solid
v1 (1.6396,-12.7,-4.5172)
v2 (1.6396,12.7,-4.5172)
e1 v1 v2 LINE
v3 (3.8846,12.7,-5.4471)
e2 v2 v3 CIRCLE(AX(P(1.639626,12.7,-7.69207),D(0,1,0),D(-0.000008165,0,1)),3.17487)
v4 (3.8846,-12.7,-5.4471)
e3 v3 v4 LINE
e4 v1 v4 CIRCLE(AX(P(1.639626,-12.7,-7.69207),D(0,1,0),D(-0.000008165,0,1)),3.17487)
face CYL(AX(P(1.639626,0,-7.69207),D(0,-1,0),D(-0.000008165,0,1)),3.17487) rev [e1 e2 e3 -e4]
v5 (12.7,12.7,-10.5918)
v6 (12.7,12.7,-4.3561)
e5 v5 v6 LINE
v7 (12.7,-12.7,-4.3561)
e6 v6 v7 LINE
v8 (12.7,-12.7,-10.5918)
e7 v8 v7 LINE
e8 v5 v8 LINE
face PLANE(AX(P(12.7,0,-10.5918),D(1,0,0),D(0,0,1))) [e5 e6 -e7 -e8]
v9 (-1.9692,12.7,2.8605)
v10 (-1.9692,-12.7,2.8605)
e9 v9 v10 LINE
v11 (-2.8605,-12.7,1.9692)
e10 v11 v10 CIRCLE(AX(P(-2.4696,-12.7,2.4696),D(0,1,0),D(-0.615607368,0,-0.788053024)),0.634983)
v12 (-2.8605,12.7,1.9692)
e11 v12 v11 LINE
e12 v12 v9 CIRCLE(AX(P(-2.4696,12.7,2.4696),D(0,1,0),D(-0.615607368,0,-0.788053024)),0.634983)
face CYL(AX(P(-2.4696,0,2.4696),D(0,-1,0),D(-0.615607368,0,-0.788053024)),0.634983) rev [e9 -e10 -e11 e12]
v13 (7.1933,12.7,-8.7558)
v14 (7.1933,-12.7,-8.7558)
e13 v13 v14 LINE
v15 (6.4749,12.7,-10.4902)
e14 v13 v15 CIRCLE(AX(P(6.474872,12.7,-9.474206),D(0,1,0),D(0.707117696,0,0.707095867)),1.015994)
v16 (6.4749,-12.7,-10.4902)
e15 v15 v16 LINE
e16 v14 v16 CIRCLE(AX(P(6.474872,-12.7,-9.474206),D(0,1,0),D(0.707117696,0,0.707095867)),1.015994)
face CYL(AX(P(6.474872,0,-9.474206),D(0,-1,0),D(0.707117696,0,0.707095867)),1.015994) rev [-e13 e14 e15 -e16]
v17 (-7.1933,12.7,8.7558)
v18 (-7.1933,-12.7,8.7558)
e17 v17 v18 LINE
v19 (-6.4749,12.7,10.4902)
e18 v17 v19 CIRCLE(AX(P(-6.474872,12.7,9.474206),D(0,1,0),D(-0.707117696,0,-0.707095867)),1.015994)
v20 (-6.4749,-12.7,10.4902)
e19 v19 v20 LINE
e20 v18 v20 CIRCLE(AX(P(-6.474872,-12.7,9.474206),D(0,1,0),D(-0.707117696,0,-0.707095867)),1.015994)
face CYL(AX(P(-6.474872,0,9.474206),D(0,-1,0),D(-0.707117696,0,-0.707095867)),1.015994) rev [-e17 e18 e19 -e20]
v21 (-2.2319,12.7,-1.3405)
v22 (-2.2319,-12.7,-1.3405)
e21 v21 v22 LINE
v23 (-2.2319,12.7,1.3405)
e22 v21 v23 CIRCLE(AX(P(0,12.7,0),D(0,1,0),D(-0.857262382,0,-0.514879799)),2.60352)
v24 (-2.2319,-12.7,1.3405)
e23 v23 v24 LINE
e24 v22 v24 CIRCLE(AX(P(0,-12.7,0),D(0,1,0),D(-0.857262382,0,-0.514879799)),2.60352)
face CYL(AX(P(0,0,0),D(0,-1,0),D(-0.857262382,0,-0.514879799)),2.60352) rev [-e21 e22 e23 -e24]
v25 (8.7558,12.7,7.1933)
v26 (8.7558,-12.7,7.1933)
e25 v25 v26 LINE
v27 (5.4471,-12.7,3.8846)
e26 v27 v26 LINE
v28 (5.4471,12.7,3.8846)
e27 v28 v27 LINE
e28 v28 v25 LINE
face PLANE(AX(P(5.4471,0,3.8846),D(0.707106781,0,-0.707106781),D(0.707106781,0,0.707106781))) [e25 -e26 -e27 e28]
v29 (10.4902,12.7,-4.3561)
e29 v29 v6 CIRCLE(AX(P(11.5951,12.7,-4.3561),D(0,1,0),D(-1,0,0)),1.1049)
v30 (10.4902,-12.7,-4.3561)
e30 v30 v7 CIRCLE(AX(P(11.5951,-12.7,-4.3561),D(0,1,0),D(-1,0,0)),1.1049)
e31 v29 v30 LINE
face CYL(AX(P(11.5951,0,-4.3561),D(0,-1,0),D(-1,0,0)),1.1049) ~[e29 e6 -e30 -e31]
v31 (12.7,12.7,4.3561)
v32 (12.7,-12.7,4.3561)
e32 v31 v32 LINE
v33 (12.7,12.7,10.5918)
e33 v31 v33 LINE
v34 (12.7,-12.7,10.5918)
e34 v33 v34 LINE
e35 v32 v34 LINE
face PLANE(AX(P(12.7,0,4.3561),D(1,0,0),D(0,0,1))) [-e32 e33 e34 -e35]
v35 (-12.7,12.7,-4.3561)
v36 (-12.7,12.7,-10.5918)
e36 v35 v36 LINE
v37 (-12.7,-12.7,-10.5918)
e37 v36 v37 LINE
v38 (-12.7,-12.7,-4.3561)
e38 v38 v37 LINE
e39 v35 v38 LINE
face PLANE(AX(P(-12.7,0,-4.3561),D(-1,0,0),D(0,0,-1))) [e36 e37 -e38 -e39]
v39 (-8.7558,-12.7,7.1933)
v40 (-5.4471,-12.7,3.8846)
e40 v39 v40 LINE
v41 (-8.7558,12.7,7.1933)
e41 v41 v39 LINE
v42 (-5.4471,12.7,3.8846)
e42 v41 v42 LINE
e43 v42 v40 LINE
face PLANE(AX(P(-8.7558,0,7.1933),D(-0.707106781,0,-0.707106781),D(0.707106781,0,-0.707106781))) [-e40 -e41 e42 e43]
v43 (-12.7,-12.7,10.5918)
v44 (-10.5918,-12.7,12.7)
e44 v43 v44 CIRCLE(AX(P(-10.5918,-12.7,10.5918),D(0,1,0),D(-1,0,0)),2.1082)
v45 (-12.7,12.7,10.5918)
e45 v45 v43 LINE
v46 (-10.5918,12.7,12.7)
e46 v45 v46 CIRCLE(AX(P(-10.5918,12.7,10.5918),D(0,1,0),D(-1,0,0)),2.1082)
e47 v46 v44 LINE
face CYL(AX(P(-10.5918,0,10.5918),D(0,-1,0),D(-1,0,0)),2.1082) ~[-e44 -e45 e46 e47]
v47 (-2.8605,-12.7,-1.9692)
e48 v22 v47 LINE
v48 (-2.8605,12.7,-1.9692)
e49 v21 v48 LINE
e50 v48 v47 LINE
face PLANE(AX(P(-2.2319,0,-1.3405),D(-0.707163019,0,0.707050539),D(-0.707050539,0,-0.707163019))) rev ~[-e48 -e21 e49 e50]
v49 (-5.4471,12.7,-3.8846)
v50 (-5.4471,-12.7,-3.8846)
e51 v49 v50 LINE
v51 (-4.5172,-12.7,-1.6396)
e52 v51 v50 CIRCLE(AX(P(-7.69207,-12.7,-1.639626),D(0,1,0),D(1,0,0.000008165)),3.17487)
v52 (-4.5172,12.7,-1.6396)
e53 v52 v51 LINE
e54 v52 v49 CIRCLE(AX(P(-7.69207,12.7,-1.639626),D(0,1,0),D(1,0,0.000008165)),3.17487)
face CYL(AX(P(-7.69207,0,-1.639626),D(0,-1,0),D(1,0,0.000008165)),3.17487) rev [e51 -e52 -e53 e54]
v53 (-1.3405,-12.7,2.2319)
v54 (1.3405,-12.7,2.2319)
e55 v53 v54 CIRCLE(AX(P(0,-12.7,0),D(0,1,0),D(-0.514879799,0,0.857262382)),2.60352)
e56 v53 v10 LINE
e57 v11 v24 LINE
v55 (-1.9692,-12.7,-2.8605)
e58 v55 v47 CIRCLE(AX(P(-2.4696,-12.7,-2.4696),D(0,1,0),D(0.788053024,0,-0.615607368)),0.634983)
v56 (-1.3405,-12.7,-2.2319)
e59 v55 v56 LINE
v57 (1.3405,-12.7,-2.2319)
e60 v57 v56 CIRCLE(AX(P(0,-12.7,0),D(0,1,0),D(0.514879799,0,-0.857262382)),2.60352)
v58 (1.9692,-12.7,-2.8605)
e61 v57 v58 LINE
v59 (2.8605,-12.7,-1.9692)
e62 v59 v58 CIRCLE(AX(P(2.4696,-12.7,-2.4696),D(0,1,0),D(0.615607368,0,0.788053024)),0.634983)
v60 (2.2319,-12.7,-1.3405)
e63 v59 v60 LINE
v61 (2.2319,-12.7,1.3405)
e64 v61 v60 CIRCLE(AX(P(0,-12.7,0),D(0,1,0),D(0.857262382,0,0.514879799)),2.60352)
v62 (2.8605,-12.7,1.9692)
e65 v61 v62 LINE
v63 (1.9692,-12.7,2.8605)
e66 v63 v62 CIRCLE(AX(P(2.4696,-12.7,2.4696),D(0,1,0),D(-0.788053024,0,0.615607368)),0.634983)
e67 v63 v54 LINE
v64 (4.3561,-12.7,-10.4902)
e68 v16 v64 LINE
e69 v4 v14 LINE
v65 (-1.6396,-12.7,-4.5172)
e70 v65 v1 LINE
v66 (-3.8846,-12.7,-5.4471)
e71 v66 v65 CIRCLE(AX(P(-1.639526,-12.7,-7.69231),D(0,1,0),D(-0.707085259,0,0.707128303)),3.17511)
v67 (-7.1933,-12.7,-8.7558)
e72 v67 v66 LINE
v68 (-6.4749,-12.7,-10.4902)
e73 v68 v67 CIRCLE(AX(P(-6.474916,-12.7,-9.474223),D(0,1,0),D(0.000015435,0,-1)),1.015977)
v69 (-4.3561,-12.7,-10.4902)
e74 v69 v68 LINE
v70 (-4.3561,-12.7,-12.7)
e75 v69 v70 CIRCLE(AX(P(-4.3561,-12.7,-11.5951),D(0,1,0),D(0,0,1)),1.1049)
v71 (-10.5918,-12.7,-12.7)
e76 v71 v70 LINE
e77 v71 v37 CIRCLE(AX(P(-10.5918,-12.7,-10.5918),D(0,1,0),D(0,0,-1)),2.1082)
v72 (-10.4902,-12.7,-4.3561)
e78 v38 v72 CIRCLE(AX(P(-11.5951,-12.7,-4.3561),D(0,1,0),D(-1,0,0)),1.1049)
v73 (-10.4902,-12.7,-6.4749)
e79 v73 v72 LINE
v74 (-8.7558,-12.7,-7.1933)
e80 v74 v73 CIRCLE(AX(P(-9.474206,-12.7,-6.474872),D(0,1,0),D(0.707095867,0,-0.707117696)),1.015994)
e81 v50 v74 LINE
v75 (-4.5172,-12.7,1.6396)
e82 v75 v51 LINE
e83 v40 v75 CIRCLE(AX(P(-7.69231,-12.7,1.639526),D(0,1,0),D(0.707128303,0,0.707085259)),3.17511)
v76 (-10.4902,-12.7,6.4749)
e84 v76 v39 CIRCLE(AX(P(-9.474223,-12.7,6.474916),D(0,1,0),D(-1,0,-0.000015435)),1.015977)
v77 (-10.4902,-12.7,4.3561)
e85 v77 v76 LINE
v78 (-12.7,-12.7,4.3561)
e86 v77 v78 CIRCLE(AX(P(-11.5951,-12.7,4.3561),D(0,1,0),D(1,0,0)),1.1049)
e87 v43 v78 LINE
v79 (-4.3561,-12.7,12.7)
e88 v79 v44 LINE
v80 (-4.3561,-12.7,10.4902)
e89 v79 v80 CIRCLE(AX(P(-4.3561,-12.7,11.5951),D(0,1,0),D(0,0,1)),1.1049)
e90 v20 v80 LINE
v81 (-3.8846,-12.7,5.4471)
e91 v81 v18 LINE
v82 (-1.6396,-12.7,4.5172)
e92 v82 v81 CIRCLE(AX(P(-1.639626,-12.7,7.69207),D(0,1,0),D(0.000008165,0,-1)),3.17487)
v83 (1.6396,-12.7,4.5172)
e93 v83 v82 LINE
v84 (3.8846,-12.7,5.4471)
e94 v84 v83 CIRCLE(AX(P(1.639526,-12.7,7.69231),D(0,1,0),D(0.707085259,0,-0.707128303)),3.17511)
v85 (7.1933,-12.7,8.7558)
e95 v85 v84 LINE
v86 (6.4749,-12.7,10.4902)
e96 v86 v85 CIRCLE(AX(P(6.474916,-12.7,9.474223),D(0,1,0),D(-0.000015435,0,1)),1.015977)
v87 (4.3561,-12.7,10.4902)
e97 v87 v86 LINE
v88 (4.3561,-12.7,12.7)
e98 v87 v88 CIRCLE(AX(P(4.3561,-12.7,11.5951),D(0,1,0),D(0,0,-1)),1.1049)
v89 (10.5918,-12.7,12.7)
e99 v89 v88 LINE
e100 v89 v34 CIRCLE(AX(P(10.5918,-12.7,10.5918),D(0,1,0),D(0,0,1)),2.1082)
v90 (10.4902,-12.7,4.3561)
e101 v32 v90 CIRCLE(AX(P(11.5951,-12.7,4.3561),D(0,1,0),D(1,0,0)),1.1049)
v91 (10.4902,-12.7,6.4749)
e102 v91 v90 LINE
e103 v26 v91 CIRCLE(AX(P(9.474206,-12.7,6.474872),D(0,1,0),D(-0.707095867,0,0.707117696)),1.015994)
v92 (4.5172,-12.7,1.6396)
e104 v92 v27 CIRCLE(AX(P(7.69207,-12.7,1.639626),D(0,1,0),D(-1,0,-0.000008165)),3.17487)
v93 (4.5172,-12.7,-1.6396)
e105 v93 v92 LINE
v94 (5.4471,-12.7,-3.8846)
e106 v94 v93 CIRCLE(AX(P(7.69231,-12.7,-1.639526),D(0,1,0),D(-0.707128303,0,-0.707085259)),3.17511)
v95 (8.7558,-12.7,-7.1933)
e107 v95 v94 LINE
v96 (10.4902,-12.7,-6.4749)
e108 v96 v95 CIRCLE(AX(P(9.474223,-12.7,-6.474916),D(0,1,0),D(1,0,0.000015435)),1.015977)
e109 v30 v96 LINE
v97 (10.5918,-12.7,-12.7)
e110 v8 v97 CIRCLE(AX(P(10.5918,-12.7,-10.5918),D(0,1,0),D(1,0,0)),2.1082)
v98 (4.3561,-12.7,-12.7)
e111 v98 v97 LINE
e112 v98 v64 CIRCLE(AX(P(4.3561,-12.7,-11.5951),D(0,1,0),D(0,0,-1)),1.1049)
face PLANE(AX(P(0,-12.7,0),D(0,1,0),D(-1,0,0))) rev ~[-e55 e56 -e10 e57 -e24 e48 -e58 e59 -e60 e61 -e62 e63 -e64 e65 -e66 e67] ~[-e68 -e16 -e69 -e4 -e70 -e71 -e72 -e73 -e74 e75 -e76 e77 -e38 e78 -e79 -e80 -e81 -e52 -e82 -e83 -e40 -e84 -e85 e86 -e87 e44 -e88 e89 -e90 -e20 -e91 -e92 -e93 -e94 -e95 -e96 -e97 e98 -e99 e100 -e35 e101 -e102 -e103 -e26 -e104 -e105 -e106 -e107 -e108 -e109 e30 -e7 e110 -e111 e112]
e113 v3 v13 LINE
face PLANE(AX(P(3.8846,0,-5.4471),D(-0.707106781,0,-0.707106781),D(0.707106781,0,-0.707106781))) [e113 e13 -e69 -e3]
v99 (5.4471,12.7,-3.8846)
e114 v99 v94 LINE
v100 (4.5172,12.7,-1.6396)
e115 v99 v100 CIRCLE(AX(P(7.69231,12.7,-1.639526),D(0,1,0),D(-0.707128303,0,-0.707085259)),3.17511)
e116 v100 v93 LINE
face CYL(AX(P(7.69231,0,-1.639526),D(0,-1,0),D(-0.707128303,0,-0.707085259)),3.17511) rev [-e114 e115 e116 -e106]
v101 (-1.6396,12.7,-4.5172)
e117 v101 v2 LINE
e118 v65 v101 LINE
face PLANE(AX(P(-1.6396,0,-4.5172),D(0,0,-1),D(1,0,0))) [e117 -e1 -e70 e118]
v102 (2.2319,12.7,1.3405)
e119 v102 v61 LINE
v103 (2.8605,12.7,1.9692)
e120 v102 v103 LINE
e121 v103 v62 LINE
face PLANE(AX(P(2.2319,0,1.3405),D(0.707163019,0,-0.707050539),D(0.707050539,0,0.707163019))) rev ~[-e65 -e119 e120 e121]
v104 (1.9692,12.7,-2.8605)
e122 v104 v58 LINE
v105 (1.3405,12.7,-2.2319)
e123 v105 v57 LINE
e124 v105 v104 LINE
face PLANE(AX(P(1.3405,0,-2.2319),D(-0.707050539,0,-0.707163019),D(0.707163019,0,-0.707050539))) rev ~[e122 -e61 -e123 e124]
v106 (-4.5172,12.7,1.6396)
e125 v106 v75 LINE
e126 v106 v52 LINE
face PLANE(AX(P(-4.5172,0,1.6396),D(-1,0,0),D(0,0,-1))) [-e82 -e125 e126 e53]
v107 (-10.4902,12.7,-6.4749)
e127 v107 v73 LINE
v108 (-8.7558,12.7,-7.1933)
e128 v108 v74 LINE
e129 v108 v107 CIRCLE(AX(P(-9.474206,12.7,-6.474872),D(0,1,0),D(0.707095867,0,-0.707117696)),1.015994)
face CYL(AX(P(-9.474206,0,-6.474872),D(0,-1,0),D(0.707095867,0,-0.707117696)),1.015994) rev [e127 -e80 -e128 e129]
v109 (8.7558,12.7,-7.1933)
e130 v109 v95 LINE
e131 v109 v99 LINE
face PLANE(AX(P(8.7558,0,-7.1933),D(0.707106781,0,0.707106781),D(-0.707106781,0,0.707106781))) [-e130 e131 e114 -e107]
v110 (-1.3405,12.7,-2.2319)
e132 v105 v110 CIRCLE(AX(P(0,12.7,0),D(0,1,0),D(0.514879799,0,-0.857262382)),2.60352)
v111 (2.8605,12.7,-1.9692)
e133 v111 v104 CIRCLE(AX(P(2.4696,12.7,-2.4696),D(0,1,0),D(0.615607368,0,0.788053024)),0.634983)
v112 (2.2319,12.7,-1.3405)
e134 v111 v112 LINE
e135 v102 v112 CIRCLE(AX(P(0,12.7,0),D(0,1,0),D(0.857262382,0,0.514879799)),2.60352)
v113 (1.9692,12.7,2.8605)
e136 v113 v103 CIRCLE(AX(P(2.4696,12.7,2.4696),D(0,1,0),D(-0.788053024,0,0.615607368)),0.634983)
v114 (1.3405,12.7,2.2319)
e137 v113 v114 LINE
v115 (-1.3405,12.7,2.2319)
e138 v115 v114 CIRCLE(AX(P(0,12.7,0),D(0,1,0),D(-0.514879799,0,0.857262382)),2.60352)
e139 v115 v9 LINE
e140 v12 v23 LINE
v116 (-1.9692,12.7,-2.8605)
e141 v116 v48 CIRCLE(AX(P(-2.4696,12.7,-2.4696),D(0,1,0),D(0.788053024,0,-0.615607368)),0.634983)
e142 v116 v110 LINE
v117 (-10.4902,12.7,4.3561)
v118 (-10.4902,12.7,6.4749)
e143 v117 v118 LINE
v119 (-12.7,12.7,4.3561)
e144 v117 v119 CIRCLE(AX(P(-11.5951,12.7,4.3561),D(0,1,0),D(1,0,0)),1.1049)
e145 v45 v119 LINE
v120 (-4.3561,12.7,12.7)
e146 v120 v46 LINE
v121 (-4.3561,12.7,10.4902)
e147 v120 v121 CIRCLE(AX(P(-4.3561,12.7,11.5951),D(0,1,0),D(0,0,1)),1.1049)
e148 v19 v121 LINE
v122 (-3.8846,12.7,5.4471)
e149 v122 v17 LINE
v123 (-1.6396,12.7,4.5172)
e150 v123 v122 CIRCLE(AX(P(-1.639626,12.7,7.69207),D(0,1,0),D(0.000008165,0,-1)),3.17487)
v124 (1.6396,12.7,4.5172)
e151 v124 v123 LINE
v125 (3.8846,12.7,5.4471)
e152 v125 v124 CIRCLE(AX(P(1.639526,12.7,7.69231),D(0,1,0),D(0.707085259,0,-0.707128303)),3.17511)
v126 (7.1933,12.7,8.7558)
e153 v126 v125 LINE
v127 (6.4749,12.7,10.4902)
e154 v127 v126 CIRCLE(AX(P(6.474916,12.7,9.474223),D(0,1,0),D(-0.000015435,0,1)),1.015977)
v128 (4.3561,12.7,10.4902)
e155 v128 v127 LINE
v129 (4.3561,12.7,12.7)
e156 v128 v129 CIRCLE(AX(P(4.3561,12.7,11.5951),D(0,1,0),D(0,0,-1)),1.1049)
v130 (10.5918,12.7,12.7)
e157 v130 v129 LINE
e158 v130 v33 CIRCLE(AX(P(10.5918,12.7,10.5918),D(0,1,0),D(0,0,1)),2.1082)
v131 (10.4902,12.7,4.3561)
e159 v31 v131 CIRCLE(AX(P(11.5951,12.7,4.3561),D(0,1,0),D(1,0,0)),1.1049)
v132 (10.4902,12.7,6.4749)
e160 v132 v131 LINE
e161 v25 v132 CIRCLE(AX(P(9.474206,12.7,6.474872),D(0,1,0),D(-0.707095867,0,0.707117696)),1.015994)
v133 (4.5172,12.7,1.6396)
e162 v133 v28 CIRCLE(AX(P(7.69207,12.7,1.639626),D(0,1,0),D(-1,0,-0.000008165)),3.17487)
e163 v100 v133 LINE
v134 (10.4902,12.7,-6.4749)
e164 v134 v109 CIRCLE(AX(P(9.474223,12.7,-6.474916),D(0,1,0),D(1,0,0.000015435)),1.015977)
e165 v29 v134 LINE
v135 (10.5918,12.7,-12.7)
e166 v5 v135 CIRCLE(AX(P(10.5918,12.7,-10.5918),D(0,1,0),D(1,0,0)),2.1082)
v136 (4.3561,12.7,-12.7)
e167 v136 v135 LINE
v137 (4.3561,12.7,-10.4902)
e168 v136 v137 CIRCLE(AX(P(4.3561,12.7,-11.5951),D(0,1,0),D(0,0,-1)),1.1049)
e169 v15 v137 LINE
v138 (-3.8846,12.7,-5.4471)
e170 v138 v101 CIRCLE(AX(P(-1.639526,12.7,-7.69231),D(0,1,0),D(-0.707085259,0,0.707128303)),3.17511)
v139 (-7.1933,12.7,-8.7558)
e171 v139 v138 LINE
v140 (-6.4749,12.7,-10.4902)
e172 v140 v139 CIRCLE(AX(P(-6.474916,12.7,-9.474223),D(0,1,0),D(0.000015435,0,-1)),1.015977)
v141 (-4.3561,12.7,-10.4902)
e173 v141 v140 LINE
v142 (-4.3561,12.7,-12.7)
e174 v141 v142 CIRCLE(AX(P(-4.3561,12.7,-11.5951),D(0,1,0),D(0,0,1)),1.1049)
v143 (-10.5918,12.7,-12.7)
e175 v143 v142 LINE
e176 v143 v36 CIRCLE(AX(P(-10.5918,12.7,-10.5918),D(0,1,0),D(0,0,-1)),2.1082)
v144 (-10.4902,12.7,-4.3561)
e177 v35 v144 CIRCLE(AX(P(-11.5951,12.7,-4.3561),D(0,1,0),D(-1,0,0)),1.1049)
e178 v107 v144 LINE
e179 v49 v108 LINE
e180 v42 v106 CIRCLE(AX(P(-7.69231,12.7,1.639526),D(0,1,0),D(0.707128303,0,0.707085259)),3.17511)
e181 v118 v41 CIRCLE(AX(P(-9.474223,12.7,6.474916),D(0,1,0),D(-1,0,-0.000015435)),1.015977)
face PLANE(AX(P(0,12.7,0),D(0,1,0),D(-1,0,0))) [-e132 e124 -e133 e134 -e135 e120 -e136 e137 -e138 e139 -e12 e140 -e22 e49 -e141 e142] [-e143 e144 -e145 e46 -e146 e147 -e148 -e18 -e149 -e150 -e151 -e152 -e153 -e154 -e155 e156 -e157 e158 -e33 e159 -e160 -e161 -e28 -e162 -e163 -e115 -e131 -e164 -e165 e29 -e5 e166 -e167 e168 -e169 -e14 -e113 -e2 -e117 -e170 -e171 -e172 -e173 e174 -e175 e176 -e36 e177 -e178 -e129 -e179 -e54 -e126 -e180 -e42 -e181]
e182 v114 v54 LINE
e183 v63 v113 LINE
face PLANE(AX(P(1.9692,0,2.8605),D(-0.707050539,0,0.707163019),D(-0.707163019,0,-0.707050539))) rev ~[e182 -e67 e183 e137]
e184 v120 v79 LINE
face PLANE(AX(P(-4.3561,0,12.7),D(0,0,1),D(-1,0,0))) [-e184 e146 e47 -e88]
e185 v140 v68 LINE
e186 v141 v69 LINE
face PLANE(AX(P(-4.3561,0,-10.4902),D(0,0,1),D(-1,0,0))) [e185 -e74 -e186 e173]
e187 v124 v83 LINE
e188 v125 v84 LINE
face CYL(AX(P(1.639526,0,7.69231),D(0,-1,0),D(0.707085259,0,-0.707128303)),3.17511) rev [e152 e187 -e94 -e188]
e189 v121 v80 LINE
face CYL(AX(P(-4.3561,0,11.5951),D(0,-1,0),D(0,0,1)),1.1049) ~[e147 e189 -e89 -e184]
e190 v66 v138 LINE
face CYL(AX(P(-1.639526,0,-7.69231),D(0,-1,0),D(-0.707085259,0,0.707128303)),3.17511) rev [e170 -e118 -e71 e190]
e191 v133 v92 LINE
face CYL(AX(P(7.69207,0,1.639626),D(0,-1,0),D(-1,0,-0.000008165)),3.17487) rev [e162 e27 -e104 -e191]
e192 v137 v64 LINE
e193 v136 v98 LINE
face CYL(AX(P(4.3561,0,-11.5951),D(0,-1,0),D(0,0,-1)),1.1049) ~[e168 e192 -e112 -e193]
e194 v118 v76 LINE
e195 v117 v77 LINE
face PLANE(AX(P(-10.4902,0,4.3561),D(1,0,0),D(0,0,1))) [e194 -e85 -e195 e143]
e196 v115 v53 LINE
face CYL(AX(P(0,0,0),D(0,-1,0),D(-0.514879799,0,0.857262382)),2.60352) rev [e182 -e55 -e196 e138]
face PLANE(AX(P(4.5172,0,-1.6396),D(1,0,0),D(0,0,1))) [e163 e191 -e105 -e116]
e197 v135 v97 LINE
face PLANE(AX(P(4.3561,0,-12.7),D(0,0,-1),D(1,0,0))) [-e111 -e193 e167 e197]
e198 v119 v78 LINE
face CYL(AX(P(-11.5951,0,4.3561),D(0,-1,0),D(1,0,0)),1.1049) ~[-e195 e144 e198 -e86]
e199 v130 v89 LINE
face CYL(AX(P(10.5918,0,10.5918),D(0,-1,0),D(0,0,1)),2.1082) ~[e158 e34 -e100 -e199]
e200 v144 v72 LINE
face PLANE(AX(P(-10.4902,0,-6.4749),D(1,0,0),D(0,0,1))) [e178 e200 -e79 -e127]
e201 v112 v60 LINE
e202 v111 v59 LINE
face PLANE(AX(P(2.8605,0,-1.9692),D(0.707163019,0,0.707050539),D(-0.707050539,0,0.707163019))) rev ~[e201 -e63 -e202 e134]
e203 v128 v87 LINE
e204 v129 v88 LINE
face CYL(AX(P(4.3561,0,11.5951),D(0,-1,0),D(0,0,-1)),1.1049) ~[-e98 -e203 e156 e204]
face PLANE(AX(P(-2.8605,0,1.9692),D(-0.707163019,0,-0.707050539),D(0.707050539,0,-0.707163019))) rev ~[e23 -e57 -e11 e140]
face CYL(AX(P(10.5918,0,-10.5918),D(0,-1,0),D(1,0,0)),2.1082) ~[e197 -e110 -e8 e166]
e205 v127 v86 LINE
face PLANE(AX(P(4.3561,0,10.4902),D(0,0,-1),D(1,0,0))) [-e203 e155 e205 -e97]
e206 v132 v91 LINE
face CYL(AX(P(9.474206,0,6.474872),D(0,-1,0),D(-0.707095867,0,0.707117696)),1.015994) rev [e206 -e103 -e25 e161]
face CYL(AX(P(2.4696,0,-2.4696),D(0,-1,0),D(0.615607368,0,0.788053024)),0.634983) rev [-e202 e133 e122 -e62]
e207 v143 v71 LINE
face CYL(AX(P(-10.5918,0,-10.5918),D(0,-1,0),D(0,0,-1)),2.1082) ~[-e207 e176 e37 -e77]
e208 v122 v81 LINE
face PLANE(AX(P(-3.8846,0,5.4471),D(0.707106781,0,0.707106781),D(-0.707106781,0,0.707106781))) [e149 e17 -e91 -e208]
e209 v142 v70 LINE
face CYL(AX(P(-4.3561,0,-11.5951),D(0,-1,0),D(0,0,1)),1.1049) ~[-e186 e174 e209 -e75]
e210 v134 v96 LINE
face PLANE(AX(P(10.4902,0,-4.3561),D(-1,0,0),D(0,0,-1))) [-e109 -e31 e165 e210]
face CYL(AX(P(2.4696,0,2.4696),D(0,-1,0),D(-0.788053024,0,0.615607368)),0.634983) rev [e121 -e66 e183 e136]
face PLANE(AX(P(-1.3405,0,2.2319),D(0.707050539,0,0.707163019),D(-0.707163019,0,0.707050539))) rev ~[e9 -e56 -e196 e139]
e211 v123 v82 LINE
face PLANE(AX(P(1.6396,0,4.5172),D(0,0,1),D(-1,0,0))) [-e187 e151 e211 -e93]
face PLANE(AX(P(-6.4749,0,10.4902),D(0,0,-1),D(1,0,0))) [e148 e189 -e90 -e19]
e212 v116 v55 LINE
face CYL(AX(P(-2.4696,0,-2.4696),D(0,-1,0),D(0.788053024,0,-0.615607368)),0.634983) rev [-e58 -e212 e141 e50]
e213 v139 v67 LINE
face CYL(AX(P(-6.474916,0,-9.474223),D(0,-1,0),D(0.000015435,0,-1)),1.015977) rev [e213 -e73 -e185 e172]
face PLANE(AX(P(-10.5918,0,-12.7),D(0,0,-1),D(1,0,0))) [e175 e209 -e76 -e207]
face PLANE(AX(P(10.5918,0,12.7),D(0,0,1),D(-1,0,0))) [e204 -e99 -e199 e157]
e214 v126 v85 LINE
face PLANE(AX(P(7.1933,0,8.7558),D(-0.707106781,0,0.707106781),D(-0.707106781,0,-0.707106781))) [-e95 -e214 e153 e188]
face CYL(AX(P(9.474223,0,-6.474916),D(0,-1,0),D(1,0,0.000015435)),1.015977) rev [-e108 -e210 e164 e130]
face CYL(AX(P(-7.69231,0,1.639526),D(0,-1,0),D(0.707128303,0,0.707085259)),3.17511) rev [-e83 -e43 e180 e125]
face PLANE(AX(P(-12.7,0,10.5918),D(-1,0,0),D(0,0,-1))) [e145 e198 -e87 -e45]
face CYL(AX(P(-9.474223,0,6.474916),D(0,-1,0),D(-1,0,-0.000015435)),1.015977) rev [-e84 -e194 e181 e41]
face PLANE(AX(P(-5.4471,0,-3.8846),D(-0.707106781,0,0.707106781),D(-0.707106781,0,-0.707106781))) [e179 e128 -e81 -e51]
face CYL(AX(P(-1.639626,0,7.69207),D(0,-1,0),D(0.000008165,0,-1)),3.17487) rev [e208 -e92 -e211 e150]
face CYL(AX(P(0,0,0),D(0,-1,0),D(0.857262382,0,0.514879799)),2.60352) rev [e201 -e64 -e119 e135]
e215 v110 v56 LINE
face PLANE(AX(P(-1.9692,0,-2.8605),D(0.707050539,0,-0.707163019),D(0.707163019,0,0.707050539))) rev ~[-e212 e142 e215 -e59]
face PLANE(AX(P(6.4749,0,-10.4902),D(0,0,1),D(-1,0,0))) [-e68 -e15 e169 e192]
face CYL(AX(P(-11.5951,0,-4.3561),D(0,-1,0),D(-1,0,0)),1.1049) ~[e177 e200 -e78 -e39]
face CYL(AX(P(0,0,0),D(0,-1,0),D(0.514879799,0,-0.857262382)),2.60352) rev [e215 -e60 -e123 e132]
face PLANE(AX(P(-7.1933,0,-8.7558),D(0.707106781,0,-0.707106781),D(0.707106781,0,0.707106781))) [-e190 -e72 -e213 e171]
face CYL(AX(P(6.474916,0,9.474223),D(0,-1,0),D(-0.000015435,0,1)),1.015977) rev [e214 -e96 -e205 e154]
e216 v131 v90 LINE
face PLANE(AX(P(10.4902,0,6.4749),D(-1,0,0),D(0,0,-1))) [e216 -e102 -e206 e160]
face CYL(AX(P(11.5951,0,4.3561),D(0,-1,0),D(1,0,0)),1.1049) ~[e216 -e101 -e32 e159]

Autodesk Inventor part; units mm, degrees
ref_plane "YZ Plane" through (0, 0, 0) normal (1, 0, 0) x (0, 1, 0)
ref_plane "XZ Plane" through (0, 0, 0) normal (0, 1, 0) x (-1, 0, 0)
ref_plane "XY Plane" through (0, 0, 0) normal (0, 0, 1) x (1, 0, 0)
sketch "Sketch1" plane through (0, 0, 0) normal (0, 1, 0) x (-1, 0, 0)
  arc A0 (-1.9692, 2.8605) -> (-2.8605, 1.9692) centre (-2.4696, 2.4696) ccw
  line L0 (-2.2319, 1.3405) -> (-2.8605, 1.9692)
  arc A1 (-2.2319, 1.3405) -> (-2.2319, -1.3405) centre (0, 0) ccw
  line L1 (-2.8605, -1.9692) -> (-2.2319, -1.3405)
  arc A2 (-2.8605, -1.9692) -> (-1.9692, -2.8605) centre (-2.4696, -2.4696) ccw
  line L2 (-1.3405, -2.2319) -> (-1.9692, -2.8605)
  arc A3 (-1.3405, -2.2319) -> (1.3405, -2.2319) centre (0, 0) ccw
  line L3 (1.9692, -2.8605) -> (1.3405, -2.2319)
  arc A4 (1.9692, -2.8605) -> (2.8605, -1.9692) centre (2.4696, -2.4696) ccw
  line L4 (2.2319, -1.3405) -> (2.8605, -1.9692)
  arc A5 (2.2319, -1.3405) -> (2.2319, 1.3405) centre (0, 0) ccw
  line L5 (2.8605, 1.9692) -> (2.2319, 1.3405)
  arc A6 (2.8605, 1.9692) -> (1.9692, 2.8605) centre (2.4696, 2.4696) ccw
  line L6 (1.3405, 2.2319) -> (1.9692, 2.8605)
  arc A7 (1.3405, 2.2319) -> (-1.3405, 2.2319) centre (0, 0) ccw
  line L7 (-1.9692, 2.8605) -> (-1.3405, 2.2319)
  arc A8 (-1.6396, -4.5172) -> (-3.8846, -5.4471) centre (-1.6396, -7.6922) ccw
  line L8 (-3.8846, -5.4471) -> (-7.1933, -8.7558)
  arc A9 (-7.1933, -8.7558) -> (-6.4749, -10.4902) centre (-6.4749, -9.4742) ccw
  line L9 (-6.4749, -10.4902) -> (-4.3561, -10.4902)
  arc A10 (-4.3561, -12.7) -> (-4.3561, -10.4902) centre (-4.3561, -11.5951) ccw
  line L10 (-4.3561, -12.7) -> (-10.5918, -12.7)
  arc A11 (-12.7, -10.5918) -> (-10.5918, -12.7) centre (-10.5918, -10.5918) ccw
  line L11 (-12.7, -10.5918) -> (-12.7, -4.3561)
  arc A12 (-10.4902, -4.3561) -> (-12.7, -4.3561) centre (-11.5951, -4.3561) ccw
  line L12 (-10.4902, -4.3561) -> (-10.4902, -6.4749)
  arc A13 (-10.4902, -6.4749) -> (-8.7558, -7.1933) centre (-9.4742, -6.4749) ccw
  line L13 (-8.7558, -7.1933) -> (-5.4471, -3.8846)
  arc A14 (-5.4471, -3.8846) -> (-4.5172, -1.6396) centre (-7.6922, -1.6396) ccw
  line L14 (-4.5172, -1.6396) -> (-4.5172, 1.6396)
  arc A15 (-4.5172, 1.6396) -> (-5.4471, 3.8846) centre (-7.6922, 1.6396) ccw
  line L15 (-5.4471, 3.8846) -> (-8.7558, 7.1933)
  arc A16 (-8.7558, 7.1933) -> (-10.4902, 6.4749) centre (-9.4742, 6.4749) ccw
  line L16 (-10.4902, 6.4749) -> (-10.4902, 4.3561)
  arc A17 (-12.7, 4.3561) -> (-10.4902, 4.3561) centre (-11.5951, 4.3561) ccw
  line L17 (-12.7, 4.3561) -> (-12.7, 10.5918)
  arc A18 (-10.5918, 12.7) -> (-12.7, 10.5918) centre (-10.5918, 10.5918) ccw
  line L18 (-10.5918, 12.7) -> (-4.3561, 12.7)
  arc A19 (-4.3561, 10.4902) -> (-4.3561, 12.7) centre (-4.3561, 11.5951) ccw
  line L19 (-4.3561, 10.4902) -> (-6.4749, 10.4902)
  arc A20 (-6.4749, 10.4902) -> (-7.1933, 8.7558) centre (-6.4749, 9.4742) ccw
  line L20 (-7.1933, 8.7558) -> (-3.8846, 5.4471)
  arc A21 (-3.8846, 5.4471) -> (-1.6396, 4.5172) centre (-1.6396, 7.6922) ccw
  line L21 (-1.6396, 4.5172) -> (1.6396, 4.5172)
  arc A22 (1.6396, 4.5172) -> (3.8846, 5.4471) centre (1.6396, 7.6922) ccw
  line L22 (3.8846, 5.4471) -> (7.1933, 8.7558)
  arc A23 (7.1933, 8.7558) -> (6.4749, 10.4902) centre (6.4749, 9.4742) ccw
  line L23 (6.4749, 10.4902) -> (4.3561, 10.4902)
  arc A24 (4.3561, 12.7) -> (4.3561, 10.4902) centre (4.3561, 11.5951) ccw
  line L24 (4.3561, 12.7) -> (10.5918, 12.7)
  arc A25 (12.7, 10.5918) -> (10.5918, 12.7) centre (10.5918, 10.5918) ccw
  line L25 (12.7, 10.5918) -> (12.7, 4.3561)
  arc A26 (10.4902, 4.3561) -> (12.7, 4.3561) centre (11.5951, 4.3561) ccw
  line L26 (10.4902, 4.3561) -> (10.4902, 6.4749)
  arc A27 (10.4902, 6.4749) -> (8.7558, 7.1933) centre (9.4742, 6.4749) ccw
  line L27 (8.7558, 7.1933) -> (5.4471, 3.8846)
  arc A28 (5.4471, 3.8846) -> (4.5172, 1.6396) centre (7.6922, 1.6396) ccw
  line L28 (4.5172, 1.6396) -> (4.5172, -1.6396)
  arc A29 (4.5172, -1.6396) -> (5.4471, -3.8846) centre (7.6922, -1.6396) ccw
  line L29 (5.4471, -3.8846) -> (8.7558, -7.1933)
  arc A30 (8.7558, -7.1933) -> (10.4902, -6.4749) centre (9.4742, -6.4749) ccw
  line L30 (10.4902, -6.4749) -> (10.4902, -4.3561)
  arc A31 (12.7, -4.3561) -> (10.4902, -4.3561) centre (11.5951, -4.3561) ccw
  line L31 (12.7, -4.3561) -> (12.7, -10.5918)
  arc A32 (10.5918, -12.7) -> (12.7, -10.5918) centre (10.5918, -10.5918) ccw
  line L32 (10.5918, -12.7) -> (4.3561, -12.7)
  arc A33 (4.3561, -10.4902) -> (4.3561, -12.7) centre (4.3561, -11.5951) ccw
  line L33 (4.3561, -10.4902) -> (6.4749, -10.4902)
  arc A34 (6.4749, -10.4902) -> (7.1933, -8.7558) centre (6.4749, -9.4742) ccw
  line L34 (7.1933, -8.7558) -> (3.8846, -5.4471)
  arc A35 (3.8846, -5.4471) -> (1.6396, -4.5172) centre (1.6396, -7.6922) ccw
  line L35 (1.6396, -4.5172) -> (-1.6396, -4.5172)
  dimension "d0" = 1.1049
  dimension "d1" = 2.1082
  dimension "d2" = 1.016
  dimension "d3" = 3.175
  dimension "d4" = 0.635
  dimension "d5" = 2.6035
  dimension "d6" = 2.6035
  dimension "d7" = 2.6035
  dimension "d8" = 2.6035
  dimension "d9" = 45
  dimension "d10" = 45
  dimension "d11" = 45
  dimension "d12" = 45
  dimension "d13" = 45
  dimension "d14" = 45
  dimension "d15" = 45
  dimension "d16" = 90
  dimension "d17" = 90
  dimension "d18" = 45
  dimension "d19" = 45
  dimension "d20" = 90
  dimension "d21" = 90
  dimension "d22" = 90
  dimension "d23" = 90
  dimension "d24" = 90
  dimension "d25" = 90
  dimension "d26" = 8.1828
  dimension "d27" = 17.2172
  dimension "d28" = 23.1902
  dimension "d29" = 25.4
  dimension "d30" = 8.1828
  dimension "d31" = 17.2172
  dimension "d32" = 2.2096
  dimension "d33" = 0.4746
  dimension "d34" = 1.7351
  dimension "d35" = 1.2605
  dimension "d36" = 0.4746
  dimension "d37" = 1.7351
  dimension "d38" = 12.7
  dimension "d39" = 12.7
  dimension "d40" = 10.4902
  dimension "d41" = 12.7
  dimension "d42" = 1.1048
  dimension "d43" = 1.1048
  dimension "d44" = 1.1048
  dimension "d45" = 0.6303
  dimension "d46" = 0.6303
  dimension "d47" = 0.6303
  dimension "d48" = 0.6303
  dimension "d49" = 0.6303
  dimension "d50" = 10.4902
  dimension "d51" = 10.4902
  dimension "d52" = 1.1048
  dimension "d53" = 1.1048
  dimension "d54" = 12.7
  dimension "d55" = 12.7
  dimension "d56" = 10.4902
  dimension "d57" = 12.7
  dimension "d58" = 8.3439
  dimension "d59" = 17.0561
  dimension "d60" = 8.3439
  dimension "d61" = 8.3439
  dimension "d62" = 9.8395
  dimension "d63" = 9.8395
extrude "Extrusion1" add sketch "Sketch1" along normal mid plane 25.4
properties part number "1010-S" material "6061-T6"
